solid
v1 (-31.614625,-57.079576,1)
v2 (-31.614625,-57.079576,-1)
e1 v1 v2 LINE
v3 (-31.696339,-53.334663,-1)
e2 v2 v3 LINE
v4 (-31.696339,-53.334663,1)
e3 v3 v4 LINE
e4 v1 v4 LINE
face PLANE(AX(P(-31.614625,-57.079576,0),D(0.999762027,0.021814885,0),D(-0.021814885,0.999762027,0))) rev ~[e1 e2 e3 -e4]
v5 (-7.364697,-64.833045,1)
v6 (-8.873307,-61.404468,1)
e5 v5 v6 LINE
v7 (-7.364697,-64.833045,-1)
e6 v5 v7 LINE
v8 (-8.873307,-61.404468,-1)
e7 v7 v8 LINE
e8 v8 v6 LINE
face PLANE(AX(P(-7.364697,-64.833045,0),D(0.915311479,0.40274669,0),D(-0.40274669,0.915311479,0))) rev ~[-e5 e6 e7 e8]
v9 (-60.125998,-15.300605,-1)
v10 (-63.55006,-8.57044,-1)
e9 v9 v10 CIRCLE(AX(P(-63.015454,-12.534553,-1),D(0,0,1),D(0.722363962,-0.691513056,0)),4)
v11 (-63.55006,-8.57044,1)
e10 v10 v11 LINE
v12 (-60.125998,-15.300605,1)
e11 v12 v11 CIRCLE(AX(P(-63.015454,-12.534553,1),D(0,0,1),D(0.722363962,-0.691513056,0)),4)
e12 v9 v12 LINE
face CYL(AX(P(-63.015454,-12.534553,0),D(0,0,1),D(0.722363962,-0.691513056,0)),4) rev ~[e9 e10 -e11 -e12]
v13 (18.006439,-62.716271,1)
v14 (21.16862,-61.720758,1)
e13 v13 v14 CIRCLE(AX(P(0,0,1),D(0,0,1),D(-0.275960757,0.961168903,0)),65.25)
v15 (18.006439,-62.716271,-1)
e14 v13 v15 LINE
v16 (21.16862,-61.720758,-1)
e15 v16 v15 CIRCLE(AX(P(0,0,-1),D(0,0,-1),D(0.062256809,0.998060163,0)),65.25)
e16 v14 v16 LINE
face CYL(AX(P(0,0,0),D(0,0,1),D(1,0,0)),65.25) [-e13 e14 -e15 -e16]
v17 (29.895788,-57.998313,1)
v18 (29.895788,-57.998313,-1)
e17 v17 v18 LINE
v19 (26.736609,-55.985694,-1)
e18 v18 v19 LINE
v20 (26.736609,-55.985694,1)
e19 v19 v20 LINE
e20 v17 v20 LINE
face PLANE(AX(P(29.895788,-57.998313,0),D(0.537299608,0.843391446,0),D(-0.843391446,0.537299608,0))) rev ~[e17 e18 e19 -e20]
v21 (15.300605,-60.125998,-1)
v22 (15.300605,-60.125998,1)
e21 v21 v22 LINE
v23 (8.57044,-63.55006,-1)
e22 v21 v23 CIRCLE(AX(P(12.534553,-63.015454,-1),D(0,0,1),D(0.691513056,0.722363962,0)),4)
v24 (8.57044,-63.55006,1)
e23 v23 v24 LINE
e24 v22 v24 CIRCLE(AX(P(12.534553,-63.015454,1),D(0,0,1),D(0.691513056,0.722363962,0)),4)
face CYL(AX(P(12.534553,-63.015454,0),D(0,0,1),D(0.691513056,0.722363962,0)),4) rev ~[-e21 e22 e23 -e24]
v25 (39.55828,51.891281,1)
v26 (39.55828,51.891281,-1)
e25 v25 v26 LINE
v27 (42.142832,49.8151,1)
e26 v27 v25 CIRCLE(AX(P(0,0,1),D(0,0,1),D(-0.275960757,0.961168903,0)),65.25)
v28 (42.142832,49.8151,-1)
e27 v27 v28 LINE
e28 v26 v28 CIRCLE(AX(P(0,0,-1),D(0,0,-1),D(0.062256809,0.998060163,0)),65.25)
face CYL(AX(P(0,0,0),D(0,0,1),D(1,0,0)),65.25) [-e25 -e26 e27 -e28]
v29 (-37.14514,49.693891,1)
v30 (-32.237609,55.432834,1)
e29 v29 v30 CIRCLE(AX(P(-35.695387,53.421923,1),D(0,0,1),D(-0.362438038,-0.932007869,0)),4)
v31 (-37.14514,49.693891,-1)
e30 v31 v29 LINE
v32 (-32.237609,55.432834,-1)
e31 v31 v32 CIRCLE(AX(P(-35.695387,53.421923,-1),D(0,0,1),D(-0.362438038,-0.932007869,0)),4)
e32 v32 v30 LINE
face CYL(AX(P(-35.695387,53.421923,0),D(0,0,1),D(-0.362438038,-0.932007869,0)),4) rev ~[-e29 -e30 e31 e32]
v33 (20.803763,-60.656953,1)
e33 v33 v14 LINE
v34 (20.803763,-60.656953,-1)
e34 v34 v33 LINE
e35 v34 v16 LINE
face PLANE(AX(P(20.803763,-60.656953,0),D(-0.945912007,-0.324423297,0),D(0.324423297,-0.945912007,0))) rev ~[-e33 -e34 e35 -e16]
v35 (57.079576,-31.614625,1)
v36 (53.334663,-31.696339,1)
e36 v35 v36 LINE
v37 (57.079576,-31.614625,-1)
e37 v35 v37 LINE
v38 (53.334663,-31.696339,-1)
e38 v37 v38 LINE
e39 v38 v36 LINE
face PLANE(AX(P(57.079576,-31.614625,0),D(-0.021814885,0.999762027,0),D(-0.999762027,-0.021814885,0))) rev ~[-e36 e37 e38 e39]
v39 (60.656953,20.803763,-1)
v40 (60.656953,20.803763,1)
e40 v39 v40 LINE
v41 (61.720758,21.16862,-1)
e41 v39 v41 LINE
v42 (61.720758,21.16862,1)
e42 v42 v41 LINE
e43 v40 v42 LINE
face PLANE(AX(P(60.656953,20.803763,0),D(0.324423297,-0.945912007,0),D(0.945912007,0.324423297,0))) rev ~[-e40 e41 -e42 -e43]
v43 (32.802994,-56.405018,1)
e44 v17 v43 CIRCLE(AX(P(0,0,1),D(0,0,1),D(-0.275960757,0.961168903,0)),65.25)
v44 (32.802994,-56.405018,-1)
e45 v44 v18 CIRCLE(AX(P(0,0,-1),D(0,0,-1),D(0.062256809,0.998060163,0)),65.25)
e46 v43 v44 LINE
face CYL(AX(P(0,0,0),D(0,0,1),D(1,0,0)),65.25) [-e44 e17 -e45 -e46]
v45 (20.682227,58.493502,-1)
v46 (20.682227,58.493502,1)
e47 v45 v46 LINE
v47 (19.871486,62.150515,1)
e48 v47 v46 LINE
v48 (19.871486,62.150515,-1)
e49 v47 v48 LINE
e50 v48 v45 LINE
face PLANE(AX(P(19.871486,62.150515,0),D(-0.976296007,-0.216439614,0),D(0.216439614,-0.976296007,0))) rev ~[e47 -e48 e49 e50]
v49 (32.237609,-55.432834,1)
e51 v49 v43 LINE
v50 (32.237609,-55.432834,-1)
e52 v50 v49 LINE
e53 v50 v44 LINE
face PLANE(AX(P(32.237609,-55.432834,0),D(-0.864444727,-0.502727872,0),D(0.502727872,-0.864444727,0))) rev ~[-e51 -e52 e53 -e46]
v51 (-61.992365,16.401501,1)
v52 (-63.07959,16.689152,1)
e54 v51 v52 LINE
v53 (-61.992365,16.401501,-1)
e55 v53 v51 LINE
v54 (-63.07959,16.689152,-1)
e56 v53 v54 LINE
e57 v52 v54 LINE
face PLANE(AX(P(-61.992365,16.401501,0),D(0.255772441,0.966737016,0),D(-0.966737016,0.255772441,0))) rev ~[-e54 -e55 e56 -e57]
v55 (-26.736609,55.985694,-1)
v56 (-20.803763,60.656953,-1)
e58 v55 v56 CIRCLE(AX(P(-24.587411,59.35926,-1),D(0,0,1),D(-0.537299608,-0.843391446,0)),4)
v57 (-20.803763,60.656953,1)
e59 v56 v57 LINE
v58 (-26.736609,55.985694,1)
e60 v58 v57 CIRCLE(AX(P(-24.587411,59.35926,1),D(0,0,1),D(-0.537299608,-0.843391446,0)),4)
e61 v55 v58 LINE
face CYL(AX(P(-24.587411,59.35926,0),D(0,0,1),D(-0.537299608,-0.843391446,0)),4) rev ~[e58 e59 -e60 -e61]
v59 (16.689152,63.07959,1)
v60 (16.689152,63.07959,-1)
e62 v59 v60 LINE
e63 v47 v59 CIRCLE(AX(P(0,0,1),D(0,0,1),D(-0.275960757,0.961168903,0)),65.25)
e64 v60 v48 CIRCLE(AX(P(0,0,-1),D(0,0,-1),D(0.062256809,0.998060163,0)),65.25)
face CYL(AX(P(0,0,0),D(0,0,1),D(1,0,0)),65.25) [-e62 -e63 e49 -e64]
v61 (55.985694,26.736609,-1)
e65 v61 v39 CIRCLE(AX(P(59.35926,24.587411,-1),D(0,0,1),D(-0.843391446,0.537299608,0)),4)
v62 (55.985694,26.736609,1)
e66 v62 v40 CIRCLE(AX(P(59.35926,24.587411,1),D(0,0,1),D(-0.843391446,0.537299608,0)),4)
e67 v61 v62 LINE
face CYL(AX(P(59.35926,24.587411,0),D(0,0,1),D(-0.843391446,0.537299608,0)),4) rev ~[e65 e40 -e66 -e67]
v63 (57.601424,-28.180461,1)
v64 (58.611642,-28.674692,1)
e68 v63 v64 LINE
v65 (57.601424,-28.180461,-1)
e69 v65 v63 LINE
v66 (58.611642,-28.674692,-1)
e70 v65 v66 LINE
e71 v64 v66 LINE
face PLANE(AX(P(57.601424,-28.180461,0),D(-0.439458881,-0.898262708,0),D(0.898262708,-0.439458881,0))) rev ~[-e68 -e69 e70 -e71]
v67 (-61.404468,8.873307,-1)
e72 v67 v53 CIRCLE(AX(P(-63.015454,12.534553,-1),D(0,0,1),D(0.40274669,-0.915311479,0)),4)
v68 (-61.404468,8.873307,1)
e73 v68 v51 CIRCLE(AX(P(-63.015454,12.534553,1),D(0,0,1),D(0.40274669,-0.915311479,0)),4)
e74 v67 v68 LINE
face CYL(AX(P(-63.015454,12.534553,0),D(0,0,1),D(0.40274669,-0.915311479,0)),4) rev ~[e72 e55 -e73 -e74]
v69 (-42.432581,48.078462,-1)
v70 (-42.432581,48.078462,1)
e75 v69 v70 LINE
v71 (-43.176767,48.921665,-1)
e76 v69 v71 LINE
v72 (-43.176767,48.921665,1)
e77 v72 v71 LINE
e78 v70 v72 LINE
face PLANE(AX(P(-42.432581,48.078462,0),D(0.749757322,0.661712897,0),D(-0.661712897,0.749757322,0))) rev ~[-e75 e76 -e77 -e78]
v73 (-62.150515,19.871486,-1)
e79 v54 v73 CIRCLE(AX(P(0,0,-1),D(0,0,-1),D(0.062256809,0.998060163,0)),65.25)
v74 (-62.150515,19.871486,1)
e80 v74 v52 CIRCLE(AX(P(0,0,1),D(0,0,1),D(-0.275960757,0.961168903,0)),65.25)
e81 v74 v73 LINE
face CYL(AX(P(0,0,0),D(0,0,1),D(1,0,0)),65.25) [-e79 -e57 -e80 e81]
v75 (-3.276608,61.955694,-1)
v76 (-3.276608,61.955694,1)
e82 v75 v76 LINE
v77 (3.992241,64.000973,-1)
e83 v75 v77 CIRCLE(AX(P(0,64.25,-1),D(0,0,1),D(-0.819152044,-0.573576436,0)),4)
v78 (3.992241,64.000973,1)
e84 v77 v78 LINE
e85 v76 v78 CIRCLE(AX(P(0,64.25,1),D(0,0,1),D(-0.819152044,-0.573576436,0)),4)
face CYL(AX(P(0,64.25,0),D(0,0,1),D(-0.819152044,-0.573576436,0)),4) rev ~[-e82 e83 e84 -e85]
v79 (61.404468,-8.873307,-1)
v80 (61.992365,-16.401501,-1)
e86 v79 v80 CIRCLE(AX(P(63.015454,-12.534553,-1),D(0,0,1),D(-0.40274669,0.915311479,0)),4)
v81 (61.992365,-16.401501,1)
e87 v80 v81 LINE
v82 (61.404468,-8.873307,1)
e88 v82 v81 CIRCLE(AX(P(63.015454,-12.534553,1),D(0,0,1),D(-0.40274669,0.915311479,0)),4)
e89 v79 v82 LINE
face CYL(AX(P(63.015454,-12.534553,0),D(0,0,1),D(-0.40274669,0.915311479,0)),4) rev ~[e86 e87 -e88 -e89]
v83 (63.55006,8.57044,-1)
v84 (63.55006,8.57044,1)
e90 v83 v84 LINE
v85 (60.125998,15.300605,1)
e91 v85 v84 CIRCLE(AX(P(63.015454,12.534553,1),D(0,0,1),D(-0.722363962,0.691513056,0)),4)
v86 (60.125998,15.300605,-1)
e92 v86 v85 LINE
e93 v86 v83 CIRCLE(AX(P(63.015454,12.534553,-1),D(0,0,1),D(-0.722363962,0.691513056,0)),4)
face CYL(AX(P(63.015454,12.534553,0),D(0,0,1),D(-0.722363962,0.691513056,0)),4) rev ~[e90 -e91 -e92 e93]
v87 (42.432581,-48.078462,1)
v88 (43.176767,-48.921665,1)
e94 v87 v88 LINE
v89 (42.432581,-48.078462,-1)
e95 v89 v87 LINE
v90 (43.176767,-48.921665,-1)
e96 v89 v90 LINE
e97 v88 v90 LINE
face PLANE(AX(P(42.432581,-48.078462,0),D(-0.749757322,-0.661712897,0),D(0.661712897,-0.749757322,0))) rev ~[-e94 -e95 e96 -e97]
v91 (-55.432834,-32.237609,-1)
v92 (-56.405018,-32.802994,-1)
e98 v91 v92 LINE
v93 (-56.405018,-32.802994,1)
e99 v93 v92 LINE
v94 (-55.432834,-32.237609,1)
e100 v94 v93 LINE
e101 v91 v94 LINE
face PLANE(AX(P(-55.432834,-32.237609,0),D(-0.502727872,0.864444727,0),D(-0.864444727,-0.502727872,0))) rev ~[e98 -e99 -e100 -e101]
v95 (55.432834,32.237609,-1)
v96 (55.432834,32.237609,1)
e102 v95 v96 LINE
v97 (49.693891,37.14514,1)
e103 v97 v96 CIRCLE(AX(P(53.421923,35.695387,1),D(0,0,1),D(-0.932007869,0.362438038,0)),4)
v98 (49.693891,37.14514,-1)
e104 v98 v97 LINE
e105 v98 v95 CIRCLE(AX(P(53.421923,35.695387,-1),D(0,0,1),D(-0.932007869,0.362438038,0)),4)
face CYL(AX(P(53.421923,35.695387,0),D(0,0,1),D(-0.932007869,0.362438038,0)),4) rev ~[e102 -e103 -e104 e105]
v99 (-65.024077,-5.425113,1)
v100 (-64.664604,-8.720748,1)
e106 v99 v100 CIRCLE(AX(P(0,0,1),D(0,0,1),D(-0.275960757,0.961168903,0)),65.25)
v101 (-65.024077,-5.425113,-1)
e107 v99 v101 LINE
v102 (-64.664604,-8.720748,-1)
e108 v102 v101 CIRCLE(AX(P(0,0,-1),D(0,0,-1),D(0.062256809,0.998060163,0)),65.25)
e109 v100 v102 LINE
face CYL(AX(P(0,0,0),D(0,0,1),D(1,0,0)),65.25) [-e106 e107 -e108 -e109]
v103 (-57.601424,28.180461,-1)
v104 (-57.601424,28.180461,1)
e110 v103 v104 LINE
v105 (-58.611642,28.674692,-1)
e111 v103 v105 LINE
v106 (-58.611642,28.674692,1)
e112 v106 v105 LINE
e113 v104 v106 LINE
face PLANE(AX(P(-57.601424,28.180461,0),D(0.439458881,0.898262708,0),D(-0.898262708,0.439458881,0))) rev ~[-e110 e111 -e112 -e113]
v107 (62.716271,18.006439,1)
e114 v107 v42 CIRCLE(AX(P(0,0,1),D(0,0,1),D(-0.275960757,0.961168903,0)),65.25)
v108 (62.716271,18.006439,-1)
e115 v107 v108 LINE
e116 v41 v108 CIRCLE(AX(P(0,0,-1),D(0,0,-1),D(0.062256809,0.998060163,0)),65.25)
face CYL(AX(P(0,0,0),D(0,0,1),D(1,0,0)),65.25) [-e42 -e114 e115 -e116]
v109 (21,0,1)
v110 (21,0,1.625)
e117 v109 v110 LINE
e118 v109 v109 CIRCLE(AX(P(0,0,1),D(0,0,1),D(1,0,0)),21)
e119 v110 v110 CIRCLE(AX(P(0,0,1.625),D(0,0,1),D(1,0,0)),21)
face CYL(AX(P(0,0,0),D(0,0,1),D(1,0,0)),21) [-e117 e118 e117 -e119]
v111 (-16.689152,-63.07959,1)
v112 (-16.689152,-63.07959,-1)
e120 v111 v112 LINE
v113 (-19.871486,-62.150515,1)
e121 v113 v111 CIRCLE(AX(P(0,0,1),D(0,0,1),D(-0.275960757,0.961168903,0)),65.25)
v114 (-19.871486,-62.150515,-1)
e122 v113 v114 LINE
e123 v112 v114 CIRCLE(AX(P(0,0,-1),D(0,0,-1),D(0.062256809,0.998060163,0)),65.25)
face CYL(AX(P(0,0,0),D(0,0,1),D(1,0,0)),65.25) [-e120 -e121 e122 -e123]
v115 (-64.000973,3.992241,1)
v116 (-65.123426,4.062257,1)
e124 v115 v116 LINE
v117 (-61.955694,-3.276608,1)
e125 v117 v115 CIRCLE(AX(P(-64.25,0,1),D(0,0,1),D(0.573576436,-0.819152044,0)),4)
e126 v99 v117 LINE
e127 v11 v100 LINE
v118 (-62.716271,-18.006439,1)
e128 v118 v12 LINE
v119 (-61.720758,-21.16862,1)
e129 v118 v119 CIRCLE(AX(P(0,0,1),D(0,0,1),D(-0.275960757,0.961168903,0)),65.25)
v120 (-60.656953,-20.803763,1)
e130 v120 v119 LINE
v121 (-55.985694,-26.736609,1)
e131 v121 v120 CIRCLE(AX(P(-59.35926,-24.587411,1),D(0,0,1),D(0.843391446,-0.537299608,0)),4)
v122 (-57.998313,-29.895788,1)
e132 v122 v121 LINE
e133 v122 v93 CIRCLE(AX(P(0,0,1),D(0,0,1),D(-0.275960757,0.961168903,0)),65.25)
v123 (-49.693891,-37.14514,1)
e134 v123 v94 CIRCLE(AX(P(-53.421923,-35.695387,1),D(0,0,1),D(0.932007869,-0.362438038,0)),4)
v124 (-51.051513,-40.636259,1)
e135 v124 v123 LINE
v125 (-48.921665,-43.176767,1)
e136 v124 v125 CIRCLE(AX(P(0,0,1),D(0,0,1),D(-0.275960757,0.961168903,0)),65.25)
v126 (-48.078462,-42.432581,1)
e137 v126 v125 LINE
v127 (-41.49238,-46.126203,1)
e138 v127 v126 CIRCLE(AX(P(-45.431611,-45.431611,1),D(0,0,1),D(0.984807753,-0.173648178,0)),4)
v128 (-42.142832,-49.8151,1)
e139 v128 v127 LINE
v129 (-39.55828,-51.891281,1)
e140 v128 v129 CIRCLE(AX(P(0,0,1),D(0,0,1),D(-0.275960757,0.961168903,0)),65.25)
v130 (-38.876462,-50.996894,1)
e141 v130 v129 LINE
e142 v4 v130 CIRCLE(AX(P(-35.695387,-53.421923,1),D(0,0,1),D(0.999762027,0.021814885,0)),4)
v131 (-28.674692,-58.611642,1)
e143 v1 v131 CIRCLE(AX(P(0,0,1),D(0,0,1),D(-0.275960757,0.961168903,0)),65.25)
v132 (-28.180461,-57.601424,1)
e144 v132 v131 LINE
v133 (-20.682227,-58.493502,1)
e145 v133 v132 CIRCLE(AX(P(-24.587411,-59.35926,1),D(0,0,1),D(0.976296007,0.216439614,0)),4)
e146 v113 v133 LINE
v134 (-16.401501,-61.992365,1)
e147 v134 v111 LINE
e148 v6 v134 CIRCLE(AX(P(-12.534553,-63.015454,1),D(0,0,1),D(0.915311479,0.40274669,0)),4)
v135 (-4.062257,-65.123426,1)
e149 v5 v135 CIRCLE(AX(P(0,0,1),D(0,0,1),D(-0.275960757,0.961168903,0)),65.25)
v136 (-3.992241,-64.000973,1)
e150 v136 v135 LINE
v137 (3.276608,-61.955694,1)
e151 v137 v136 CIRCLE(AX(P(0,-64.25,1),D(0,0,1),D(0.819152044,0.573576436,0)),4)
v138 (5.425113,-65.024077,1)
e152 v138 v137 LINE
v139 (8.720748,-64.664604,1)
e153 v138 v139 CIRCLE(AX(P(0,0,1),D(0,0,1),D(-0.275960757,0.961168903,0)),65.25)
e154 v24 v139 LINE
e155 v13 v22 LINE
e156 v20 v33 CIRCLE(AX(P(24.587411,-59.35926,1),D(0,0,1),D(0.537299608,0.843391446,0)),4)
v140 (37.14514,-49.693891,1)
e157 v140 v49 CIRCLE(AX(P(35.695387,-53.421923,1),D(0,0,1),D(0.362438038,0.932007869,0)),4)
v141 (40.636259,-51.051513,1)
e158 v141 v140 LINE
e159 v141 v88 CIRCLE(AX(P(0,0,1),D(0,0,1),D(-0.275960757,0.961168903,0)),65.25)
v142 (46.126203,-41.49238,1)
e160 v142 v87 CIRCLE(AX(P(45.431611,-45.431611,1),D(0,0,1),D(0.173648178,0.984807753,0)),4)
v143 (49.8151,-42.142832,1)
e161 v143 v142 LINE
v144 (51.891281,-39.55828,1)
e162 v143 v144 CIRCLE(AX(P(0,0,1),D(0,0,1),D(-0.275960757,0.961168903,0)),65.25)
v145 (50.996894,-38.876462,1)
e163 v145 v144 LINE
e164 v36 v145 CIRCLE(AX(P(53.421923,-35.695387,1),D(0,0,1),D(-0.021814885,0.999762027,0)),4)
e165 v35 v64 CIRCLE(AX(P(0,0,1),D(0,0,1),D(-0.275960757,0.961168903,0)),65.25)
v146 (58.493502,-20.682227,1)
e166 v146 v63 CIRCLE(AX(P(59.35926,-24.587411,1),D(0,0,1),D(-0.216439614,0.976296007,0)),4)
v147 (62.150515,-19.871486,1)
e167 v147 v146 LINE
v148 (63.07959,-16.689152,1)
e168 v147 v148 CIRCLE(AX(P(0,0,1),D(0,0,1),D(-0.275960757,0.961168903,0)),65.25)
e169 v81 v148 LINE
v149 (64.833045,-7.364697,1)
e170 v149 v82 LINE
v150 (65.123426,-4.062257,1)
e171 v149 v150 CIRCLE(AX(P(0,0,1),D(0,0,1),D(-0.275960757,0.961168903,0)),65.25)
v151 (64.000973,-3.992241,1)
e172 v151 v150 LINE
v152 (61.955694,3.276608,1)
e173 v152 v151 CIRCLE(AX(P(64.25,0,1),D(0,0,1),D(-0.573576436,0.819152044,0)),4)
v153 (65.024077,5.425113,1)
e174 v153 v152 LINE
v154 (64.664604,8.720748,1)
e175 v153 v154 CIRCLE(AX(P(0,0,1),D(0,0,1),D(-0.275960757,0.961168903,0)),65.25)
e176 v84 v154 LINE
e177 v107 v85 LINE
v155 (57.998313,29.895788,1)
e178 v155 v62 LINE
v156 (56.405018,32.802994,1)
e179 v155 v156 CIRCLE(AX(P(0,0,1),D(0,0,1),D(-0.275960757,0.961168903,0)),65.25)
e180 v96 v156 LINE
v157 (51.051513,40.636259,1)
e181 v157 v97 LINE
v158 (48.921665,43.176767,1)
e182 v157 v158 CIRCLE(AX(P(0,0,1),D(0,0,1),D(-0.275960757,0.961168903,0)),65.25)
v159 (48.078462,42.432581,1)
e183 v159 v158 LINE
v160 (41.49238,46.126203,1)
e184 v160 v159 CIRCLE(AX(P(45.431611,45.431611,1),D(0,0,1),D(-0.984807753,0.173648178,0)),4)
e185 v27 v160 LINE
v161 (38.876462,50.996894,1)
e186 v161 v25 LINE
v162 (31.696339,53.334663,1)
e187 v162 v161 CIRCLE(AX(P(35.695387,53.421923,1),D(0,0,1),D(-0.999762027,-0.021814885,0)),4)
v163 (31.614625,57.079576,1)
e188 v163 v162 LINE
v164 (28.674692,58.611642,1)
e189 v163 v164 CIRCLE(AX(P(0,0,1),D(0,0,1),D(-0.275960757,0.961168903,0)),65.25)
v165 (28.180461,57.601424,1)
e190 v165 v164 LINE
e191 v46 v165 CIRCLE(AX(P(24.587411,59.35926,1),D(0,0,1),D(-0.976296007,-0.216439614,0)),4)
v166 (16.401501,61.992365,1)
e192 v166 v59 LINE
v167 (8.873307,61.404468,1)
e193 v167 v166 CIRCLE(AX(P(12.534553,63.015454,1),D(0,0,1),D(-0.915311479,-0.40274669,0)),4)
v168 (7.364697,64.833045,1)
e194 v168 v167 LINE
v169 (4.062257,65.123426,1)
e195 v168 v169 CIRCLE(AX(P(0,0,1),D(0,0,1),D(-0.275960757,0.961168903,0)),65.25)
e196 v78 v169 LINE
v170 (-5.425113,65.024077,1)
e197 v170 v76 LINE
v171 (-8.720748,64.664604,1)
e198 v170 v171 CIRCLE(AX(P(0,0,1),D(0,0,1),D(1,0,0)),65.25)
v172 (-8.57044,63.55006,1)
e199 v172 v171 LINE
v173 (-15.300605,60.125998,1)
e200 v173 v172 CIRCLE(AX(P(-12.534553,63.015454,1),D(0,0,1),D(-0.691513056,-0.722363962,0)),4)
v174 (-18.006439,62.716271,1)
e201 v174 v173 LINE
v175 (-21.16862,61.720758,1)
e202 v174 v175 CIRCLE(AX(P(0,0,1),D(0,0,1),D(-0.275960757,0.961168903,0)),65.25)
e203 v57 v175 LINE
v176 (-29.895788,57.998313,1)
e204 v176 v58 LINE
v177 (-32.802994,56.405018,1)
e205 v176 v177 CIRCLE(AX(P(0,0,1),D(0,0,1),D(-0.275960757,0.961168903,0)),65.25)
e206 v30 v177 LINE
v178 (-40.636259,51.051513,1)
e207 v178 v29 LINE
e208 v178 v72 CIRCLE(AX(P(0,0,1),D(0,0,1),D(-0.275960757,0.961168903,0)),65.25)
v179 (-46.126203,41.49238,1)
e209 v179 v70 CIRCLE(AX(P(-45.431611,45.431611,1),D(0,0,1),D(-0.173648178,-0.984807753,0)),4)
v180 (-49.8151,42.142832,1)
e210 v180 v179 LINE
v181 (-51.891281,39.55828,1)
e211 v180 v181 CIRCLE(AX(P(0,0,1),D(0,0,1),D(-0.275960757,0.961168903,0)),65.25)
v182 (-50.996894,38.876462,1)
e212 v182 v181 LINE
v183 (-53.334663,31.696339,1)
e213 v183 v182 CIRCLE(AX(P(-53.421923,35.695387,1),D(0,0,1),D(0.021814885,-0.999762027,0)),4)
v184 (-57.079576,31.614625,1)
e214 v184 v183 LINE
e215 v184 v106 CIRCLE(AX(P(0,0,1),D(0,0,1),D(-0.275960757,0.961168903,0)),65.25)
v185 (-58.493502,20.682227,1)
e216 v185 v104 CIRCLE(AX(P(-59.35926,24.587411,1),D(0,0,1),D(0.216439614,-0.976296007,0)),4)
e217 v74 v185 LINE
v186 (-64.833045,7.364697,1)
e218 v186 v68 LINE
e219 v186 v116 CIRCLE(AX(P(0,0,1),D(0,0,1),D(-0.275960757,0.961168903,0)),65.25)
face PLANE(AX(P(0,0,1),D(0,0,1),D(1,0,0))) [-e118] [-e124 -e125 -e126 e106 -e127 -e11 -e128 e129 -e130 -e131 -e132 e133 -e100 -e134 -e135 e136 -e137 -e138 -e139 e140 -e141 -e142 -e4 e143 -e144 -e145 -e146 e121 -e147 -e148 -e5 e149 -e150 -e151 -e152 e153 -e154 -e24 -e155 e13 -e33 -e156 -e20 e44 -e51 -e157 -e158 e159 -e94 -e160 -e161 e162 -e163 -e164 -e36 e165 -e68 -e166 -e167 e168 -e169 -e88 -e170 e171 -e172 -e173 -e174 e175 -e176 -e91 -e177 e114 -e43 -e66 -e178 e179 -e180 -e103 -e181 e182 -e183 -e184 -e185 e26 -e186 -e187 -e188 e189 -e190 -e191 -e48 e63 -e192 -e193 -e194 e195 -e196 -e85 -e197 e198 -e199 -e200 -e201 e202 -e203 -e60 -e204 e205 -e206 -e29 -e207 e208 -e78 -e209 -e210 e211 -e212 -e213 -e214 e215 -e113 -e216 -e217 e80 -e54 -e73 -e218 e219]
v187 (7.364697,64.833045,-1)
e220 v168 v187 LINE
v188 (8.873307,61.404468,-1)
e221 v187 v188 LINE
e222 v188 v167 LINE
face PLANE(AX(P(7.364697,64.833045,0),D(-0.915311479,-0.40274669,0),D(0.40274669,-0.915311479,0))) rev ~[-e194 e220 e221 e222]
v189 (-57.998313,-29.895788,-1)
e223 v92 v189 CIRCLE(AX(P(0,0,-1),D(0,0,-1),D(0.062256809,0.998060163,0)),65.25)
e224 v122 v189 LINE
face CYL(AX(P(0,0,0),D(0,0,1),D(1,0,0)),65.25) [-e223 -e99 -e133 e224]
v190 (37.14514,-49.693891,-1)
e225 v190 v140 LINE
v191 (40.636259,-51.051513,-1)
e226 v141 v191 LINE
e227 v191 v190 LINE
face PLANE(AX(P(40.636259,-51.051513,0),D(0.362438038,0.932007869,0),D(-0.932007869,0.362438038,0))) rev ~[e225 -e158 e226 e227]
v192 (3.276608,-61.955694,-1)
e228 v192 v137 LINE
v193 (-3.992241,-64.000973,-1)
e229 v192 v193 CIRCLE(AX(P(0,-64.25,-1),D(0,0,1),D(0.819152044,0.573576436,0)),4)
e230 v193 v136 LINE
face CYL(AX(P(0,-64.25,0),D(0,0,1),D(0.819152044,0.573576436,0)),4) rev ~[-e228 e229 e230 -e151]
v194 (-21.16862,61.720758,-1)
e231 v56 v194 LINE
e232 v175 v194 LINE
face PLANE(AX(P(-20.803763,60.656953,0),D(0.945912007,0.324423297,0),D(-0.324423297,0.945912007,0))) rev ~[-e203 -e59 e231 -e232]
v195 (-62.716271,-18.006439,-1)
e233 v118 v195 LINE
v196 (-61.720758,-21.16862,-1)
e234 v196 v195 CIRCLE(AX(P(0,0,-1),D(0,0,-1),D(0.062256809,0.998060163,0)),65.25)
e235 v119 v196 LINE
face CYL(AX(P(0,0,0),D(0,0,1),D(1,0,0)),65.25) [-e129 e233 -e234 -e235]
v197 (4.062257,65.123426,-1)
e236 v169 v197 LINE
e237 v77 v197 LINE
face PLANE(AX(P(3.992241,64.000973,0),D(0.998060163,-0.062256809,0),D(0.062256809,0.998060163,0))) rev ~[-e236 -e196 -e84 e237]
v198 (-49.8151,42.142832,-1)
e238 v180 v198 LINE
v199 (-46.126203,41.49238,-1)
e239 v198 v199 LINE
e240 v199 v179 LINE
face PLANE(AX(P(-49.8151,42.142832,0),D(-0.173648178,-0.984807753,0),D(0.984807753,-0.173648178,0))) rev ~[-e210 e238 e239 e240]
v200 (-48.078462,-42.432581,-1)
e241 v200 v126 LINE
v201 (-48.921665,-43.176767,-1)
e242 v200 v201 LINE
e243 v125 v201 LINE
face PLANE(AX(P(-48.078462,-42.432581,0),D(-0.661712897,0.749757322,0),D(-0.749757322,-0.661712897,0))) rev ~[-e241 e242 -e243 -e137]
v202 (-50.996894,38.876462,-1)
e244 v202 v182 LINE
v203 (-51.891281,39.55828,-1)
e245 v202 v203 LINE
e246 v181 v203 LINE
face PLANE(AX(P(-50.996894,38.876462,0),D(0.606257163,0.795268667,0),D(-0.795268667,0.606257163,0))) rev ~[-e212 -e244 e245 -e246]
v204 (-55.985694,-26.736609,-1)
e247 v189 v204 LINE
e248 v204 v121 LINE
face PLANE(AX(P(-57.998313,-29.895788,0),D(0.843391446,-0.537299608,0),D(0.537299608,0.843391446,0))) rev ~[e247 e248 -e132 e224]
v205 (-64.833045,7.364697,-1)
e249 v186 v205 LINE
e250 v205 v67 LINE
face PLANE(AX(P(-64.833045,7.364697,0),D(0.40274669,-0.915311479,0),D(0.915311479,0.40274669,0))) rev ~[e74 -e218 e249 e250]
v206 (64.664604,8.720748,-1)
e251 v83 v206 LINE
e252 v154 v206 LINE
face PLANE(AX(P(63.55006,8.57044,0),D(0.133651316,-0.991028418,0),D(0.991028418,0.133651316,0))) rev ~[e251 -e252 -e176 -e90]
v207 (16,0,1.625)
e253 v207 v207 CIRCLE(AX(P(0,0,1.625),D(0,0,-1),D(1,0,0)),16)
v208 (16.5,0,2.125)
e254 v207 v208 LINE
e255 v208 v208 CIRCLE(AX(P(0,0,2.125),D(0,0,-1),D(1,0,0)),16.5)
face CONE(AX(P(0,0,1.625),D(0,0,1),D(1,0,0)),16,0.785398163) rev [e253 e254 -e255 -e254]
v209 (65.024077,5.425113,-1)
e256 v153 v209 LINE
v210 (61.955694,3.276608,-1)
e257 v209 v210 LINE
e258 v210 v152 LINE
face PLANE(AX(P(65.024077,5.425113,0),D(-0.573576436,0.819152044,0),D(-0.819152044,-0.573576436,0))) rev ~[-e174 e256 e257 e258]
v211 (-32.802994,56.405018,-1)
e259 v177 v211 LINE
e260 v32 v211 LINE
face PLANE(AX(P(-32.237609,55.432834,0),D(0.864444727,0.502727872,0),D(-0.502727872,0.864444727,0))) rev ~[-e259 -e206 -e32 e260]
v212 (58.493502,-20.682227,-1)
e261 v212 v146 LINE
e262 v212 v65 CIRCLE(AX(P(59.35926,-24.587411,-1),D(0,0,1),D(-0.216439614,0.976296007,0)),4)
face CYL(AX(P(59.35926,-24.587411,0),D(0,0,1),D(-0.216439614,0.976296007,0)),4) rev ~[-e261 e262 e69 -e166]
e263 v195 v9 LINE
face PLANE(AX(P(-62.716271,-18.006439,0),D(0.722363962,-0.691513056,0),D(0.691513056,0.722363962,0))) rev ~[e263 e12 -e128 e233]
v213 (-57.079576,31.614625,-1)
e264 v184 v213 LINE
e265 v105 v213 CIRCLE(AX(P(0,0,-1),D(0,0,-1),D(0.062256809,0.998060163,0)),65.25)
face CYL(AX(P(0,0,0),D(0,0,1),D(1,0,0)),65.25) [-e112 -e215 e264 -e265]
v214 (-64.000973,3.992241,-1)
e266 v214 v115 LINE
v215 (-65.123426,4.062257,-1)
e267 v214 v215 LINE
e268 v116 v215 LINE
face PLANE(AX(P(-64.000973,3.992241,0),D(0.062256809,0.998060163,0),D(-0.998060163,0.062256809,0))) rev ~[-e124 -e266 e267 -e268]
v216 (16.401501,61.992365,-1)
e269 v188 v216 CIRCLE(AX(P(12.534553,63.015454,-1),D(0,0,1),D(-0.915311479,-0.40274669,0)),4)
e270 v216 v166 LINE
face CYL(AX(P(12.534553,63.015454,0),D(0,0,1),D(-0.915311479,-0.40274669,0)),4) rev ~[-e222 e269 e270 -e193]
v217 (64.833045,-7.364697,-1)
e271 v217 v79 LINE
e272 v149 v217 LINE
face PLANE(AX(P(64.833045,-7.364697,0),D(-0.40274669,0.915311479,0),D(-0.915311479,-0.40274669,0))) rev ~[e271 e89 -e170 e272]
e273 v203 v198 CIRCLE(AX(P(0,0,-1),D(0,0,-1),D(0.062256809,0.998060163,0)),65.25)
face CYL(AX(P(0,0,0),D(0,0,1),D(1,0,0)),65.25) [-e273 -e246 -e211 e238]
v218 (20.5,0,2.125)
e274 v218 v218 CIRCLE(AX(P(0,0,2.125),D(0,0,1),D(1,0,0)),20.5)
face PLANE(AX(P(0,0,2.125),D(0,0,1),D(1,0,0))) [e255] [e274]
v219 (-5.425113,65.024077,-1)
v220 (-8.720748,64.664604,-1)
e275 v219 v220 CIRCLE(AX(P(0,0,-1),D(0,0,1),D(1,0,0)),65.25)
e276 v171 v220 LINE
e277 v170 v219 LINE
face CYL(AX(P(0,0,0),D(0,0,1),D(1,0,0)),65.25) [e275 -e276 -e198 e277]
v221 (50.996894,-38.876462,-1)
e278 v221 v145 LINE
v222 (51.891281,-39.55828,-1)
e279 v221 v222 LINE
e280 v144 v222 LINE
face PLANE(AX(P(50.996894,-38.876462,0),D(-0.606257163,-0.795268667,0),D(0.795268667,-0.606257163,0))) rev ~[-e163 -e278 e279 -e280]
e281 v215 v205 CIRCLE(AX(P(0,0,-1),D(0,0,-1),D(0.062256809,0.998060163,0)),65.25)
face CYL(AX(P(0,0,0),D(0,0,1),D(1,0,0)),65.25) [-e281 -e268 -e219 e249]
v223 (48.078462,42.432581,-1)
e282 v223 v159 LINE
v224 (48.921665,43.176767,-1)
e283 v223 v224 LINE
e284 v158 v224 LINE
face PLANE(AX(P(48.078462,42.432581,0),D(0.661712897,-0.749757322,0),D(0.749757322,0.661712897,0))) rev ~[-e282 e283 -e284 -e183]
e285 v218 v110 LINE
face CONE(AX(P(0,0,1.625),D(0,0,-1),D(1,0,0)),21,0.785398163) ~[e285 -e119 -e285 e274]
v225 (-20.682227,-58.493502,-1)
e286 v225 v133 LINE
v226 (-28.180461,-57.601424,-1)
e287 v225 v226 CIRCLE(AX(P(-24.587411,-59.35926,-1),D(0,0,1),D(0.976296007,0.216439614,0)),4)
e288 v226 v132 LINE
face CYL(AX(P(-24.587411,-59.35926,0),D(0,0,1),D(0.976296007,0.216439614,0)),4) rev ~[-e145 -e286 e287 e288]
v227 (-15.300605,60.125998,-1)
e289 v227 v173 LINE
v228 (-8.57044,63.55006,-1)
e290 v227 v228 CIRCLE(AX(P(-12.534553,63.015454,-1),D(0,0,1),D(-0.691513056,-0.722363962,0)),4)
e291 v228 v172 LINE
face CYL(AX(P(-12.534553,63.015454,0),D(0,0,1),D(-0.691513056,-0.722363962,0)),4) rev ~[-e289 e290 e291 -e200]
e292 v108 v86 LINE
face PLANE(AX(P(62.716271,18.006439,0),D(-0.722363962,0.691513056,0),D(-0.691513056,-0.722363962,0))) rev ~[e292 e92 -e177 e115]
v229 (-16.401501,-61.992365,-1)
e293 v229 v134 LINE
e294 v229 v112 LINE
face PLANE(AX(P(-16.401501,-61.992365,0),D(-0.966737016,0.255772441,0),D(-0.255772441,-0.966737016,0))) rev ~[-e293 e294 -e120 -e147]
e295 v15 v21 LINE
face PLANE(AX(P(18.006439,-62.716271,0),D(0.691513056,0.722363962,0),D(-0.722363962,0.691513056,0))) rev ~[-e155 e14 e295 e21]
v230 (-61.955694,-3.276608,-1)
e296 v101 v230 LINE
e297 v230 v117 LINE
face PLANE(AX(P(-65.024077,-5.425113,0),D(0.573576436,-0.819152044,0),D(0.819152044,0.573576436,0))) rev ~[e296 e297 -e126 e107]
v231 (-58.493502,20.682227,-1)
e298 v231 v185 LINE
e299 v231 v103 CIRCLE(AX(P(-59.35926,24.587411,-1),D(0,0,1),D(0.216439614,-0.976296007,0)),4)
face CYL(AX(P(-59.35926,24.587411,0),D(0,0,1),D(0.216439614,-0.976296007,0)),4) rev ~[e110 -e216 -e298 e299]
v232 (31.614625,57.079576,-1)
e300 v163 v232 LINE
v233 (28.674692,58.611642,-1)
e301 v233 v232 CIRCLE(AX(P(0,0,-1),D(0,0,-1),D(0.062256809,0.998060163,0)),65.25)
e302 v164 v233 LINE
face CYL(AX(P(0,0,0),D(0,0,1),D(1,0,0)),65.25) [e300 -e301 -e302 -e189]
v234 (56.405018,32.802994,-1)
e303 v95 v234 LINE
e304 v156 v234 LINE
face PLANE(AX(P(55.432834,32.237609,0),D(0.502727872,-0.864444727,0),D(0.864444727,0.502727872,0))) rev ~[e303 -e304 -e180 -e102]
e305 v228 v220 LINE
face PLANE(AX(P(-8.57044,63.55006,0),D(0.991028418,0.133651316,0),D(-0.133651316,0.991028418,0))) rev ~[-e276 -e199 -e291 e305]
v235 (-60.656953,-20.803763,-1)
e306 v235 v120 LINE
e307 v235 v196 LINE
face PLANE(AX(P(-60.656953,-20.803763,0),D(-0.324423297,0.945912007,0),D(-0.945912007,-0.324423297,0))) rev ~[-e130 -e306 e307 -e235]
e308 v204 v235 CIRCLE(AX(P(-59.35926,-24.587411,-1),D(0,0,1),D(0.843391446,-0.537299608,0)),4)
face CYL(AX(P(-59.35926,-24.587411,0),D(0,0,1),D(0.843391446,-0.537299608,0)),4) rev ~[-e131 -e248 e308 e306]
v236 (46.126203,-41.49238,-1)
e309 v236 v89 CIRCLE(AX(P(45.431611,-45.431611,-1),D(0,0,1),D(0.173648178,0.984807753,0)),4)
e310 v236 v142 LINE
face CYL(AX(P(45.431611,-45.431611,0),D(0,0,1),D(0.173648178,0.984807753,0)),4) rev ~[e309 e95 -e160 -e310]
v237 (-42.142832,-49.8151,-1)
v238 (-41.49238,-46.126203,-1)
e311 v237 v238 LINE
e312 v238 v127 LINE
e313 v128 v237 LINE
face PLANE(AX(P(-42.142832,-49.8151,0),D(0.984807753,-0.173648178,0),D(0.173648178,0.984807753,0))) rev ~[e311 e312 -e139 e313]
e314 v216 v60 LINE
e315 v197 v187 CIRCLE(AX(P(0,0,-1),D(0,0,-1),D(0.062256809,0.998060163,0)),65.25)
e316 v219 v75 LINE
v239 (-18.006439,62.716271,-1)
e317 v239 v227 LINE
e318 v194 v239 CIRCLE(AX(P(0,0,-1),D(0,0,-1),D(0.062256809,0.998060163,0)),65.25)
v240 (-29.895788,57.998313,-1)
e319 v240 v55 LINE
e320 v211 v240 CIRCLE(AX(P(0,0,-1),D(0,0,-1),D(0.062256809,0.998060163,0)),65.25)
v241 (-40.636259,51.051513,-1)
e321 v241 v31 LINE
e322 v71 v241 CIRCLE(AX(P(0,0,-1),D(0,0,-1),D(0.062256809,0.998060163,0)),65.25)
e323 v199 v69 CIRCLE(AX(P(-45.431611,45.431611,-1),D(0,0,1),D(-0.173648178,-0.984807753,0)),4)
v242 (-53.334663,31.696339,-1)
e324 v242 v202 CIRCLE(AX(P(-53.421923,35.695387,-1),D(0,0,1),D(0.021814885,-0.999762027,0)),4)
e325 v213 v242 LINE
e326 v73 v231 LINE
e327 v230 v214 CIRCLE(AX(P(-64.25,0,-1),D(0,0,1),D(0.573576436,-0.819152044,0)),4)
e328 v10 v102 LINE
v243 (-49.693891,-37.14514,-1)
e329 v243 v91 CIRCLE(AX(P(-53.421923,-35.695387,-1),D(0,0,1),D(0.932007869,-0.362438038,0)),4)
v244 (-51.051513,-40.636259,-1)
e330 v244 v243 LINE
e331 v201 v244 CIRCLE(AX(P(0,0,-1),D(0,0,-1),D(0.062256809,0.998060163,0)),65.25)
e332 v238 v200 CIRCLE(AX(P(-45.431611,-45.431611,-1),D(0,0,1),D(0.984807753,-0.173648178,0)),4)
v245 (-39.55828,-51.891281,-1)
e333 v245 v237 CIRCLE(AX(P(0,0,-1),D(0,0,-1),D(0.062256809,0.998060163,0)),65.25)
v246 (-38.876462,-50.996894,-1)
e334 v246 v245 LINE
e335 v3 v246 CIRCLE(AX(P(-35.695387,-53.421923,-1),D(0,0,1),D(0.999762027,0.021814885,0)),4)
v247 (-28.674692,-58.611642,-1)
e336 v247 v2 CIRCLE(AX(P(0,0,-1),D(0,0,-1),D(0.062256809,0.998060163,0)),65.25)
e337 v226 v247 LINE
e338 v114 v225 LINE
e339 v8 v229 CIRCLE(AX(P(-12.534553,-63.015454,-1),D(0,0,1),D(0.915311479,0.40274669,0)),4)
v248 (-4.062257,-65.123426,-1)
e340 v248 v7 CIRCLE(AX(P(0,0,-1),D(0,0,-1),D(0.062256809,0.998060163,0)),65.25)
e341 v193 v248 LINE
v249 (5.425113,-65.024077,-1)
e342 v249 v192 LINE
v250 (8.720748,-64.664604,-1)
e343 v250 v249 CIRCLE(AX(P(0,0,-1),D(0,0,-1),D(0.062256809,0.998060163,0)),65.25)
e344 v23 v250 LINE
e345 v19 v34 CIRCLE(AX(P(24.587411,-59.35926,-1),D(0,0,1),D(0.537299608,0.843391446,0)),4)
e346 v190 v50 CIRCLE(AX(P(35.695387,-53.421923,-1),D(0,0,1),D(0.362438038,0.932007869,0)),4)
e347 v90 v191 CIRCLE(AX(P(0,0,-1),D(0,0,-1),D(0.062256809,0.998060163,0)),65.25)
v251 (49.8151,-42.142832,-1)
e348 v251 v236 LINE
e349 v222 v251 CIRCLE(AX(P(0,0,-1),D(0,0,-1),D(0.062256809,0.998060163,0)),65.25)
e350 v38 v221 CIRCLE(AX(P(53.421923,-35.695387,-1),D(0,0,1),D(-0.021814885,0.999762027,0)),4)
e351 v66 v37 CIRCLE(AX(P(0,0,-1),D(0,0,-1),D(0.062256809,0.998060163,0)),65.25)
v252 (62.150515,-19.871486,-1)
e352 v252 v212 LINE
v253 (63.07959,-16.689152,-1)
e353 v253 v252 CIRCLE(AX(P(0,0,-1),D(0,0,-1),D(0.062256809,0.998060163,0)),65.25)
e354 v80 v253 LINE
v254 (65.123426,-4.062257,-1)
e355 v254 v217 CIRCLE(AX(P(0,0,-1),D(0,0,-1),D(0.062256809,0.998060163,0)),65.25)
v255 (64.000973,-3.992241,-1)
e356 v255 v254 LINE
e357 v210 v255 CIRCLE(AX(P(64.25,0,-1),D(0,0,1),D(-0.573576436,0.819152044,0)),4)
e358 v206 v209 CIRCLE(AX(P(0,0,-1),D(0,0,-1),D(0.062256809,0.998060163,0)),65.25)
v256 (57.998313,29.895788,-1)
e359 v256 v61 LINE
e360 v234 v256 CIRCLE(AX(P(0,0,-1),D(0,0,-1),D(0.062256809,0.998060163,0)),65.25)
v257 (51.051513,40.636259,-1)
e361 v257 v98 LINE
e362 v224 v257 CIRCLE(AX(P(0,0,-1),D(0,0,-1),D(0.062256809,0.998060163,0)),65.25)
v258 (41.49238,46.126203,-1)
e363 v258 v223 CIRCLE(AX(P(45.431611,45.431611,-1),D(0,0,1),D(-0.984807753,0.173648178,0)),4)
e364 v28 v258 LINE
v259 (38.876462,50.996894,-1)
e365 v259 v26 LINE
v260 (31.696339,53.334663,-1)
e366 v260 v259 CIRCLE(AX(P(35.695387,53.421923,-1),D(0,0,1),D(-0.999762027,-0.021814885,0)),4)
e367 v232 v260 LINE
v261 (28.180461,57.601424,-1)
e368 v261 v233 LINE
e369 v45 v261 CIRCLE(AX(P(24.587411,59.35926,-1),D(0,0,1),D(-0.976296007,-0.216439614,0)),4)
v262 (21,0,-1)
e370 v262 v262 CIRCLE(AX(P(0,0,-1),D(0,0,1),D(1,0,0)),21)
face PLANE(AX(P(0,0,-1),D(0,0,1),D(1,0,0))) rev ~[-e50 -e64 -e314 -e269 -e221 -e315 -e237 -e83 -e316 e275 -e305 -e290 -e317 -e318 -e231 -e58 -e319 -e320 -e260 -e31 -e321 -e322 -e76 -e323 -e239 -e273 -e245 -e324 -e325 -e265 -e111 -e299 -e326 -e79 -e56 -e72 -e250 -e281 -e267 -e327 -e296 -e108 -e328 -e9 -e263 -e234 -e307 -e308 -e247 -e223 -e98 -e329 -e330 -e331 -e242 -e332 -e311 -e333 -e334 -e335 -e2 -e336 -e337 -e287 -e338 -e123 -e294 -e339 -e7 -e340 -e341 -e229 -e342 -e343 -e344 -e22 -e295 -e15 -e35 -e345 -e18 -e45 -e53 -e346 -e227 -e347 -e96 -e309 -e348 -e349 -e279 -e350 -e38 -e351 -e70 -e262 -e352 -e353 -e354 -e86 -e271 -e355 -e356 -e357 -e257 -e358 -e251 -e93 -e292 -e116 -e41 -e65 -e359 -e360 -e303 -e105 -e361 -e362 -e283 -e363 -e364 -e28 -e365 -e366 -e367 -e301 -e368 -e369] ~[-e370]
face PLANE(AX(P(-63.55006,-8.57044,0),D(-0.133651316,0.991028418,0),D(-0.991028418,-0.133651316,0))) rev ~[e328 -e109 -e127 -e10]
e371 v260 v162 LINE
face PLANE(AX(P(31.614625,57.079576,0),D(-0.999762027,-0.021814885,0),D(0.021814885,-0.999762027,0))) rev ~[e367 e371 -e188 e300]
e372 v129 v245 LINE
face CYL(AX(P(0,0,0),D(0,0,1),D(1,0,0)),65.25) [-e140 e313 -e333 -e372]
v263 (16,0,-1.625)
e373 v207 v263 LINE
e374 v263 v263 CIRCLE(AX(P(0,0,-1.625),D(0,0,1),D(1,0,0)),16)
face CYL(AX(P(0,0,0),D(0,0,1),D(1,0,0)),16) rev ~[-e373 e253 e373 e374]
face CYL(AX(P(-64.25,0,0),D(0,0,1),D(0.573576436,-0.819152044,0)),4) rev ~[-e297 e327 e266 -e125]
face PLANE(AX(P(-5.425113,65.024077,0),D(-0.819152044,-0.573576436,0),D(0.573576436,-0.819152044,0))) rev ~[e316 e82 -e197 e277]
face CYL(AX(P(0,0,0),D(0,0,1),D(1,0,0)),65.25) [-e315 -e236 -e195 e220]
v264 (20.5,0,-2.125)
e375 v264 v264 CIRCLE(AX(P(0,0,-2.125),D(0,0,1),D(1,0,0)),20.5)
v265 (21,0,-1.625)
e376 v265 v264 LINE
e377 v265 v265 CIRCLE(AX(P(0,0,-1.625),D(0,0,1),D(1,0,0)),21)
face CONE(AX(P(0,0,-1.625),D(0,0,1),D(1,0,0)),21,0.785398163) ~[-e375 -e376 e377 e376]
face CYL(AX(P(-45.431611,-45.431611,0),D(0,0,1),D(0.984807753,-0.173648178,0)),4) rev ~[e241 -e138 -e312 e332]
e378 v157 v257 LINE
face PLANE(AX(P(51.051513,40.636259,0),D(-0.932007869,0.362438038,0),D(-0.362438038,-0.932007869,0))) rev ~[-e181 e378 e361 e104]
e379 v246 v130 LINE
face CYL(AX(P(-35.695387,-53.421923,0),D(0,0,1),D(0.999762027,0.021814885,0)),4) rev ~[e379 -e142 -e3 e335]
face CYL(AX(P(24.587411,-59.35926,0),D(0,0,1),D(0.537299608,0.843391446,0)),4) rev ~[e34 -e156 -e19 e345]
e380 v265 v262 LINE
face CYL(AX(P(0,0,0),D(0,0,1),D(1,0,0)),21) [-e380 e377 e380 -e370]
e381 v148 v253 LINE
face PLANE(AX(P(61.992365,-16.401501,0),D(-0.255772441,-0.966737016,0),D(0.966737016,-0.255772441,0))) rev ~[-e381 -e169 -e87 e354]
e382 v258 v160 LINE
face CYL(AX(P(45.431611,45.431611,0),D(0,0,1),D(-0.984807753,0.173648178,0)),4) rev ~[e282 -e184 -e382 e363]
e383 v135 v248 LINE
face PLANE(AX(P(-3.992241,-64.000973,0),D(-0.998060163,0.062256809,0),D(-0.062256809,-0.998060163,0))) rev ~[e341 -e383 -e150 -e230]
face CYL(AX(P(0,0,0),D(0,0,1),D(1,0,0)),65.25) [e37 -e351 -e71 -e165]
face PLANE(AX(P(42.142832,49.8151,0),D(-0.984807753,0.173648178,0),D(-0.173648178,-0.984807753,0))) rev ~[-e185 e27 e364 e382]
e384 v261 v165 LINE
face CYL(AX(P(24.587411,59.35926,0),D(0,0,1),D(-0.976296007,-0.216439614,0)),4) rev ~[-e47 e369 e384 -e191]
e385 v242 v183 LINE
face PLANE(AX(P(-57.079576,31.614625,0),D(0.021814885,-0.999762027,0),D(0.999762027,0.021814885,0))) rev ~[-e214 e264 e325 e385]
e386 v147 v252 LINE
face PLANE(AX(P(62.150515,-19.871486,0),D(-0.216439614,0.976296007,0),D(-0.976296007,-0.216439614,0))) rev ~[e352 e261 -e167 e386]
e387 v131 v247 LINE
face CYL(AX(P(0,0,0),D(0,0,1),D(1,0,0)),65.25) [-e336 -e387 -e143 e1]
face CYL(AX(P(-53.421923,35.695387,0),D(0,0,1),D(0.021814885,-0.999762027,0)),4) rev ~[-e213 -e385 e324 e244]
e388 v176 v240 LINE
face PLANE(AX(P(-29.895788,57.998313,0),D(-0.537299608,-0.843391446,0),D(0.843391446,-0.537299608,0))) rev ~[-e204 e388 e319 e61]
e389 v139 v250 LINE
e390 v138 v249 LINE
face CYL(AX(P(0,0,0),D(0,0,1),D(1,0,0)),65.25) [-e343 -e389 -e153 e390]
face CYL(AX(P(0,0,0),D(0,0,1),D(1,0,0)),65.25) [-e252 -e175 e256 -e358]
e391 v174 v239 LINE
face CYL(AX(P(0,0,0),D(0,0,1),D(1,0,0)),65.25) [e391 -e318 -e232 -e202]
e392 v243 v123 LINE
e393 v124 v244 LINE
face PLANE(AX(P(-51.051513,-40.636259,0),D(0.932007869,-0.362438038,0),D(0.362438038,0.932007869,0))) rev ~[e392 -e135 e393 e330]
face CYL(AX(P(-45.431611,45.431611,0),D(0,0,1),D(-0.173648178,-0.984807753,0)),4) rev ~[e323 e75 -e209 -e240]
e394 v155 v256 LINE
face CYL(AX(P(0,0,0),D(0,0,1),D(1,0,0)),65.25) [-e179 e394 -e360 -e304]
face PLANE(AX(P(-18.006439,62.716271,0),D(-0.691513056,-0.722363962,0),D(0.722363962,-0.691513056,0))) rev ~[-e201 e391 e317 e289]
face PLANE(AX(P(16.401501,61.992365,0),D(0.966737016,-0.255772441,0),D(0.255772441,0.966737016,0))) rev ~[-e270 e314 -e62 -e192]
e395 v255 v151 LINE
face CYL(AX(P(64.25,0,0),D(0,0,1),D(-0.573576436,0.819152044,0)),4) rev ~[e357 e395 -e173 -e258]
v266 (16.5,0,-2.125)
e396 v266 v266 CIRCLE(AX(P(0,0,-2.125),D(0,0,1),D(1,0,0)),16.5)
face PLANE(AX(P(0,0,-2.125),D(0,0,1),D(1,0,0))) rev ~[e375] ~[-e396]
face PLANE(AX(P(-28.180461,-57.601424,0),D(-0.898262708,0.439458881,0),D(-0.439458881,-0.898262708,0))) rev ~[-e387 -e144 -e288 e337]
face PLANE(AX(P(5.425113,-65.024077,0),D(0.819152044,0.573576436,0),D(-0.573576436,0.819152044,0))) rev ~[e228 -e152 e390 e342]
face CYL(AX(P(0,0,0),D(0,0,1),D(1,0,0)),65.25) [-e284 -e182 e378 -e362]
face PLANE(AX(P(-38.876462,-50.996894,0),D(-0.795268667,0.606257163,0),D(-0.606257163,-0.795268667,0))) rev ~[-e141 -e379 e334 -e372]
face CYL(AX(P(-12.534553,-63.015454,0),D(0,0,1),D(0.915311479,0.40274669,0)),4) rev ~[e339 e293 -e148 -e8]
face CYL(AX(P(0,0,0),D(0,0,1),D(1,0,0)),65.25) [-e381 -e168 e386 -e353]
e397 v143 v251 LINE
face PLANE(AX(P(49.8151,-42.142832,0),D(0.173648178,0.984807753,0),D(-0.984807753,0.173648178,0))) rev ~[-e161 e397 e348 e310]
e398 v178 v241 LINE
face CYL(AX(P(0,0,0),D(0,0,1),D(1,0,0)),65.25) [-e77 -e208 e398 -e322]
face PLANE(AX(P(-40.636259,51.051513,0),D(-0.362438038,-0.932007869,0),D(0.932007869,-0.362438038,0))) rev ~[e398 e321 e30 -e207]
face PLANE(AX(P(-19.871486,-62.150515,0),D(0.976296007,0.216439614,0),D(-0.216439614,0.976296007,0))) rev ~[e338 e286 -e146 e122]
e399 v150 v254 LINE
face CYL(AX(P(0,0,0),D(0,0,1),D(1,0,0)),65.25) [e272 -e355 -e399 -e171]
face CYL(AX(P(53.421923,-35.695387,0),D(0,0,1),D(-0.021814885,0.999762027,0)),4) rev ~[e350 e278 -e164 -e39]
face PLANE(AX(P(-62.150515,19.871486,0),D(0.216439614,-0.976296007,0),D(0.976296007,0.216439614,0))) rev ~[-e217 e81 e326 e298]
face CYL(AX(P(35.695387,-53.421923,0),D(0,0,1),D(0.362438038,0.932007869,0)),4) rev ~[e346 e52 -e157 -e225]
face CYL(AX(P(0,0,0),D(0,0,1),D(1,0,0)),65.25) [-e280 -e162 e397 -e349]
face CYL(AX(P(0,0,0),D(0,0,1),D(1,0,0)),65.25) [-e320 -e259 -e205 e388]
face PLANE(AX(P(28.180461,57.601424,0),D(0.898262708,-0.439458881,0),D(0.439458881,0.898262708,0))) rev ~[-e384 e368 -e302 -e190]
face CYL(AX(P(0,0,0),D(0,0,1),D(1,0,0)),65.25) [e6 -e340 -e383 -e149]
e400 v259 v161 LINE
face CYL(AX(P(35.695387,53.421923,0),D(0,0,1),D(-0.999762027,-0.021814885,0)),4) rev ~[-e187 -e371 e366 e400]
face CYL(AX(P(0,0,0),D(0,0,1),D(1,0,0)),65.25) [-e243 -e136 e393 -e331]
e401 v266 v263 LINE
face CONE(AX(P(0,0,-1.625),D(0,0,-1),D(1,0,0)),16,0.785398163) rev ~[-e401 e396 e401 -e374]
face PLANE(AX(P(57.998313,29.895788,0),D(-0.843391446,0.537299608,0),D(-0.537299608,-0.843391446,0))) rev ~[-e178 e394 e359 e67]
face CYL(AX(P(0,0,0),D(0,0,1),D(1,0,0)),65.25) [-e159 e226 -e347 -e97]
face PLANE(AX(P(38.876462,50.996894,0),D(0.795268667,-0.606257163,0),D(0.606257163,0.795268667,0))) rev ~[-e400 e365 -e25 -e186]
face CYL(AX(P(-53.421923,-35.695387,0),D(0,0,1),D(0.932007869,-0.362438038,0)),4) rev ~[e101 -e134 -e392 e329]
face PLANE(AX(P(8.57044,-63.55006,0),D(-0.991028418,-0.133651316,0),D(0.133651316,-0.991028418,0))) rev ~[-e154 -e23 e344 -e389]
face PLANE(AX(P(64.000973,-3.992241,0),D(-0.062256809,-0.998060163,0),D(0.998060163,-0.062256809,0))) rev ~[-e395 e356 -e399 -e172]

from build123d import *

# Parameters (mm, degrees)
ESQUISSE1_R                  = 65.25
EXTRUSION1_DEPTH             = 1
ENL_V_MAT_EXTRU_1_DEPTH      = 2
R_P_TITION_CIRCULAIRE1_COUNT = 32
ESQUISSE3_R                  = 21
EXTRUSION2_DEPTH             = 2.125
ESQUISSE4_R                  = 16
ENL_V_MAT_EXTRU_2_DEPTH      = 3.125
ENL_V_MAT_EXTRU_2_DEPTH_BACK = 3.125
CHANFREIN1_SIZE              = 0.5


with BuildPart() as part:
    # Esquisse1 → Extrusion1 (new body, symmetric)
    with BuildSketch(Plane.XY):
        Circle(ESQUISSE1_R)
    extrude(amount=EXTRUSION1_DEPTH, both=True)

    # Esquisse2 → Enlèv. mat.-Extru.1 (cut, symmetric)
    with BuildSketch(Plane.XY):
        with BuildLine():
            Line((-5.425113212, 65.024077438), (-3.276608177, 61.955694255))
            ThreePointArc((-3.276608177, 61.955694255), (1.083431356, 60.399522563), (3.992240653, 64.000972763))
            Line((3.992240653, 64.000972763), (4.062256809, 65.123425659))
            ThreePointArc((4.062256809, 65.123425659), (-0.683236351, 65.246422799), (-5.425113212, 65.024077438))
        make_face()
    enl_v_mat_extru_1 = extrude(amount=ENL_V_MAT_EXTRU_1_DEPTH, both=True, mode=Mode.SUBTRACT)

    # Répétition circulaire1: Enlèv. mat.-Extru.1 ×32 about axis
    r_p_tition_circulaire1_axis = Axis((0, 0, 0), (0, 0, 1))
    for i in range(1, R_P_TITION_CIRCULAIRE1_COUNT):
        add(enl_v_mat_extru_1.rotate(r_p_tition_circulaire1_axis, i * 360 / R_P_TITION_CIRCULAIRE1_COUNT), mode=Mode.SUBTRACT)

    # Esquisse3 → Extrusion2 (add, symmetric)
    with BuildSketch(Plane.XY):
        Circle(ESQUISSE3_R)
    extrude(amount=EXTRUSION2_DEPTH, both=True)

    # Esquisse4 → Enlèv. mat.-Extru.2 (cut, two sides)
    with BuildSketch(Plane.XY) as enl_v_mat_extru_2_sk:
        Circle(ESQUISSE4_R)
    extrude(amount=ENL_V_MAT_EXTRU_2_DEPTH, mode=Mode.SUBTRACT)
    extrude(enl_v_mat_extru_2_sk.sketch, amount=-ENL_V_MAT_EXTRU_2_DEPTH_BACK, mode=Mode.SUBTRACT)

    # Chanfrein1
    chanfrein1_edges = [part.edges().sort_by_distance(p)[0] for p in [
        (-21, 0, -2.125),
        (-21, 0, 2.125),
        (-16, 0, -2.125),
        (-16, 0, 2.125),
    ]]
    chamfer(chanfrein1_edges, length=CHANFREIN1_SIZE)


solid = part.part
